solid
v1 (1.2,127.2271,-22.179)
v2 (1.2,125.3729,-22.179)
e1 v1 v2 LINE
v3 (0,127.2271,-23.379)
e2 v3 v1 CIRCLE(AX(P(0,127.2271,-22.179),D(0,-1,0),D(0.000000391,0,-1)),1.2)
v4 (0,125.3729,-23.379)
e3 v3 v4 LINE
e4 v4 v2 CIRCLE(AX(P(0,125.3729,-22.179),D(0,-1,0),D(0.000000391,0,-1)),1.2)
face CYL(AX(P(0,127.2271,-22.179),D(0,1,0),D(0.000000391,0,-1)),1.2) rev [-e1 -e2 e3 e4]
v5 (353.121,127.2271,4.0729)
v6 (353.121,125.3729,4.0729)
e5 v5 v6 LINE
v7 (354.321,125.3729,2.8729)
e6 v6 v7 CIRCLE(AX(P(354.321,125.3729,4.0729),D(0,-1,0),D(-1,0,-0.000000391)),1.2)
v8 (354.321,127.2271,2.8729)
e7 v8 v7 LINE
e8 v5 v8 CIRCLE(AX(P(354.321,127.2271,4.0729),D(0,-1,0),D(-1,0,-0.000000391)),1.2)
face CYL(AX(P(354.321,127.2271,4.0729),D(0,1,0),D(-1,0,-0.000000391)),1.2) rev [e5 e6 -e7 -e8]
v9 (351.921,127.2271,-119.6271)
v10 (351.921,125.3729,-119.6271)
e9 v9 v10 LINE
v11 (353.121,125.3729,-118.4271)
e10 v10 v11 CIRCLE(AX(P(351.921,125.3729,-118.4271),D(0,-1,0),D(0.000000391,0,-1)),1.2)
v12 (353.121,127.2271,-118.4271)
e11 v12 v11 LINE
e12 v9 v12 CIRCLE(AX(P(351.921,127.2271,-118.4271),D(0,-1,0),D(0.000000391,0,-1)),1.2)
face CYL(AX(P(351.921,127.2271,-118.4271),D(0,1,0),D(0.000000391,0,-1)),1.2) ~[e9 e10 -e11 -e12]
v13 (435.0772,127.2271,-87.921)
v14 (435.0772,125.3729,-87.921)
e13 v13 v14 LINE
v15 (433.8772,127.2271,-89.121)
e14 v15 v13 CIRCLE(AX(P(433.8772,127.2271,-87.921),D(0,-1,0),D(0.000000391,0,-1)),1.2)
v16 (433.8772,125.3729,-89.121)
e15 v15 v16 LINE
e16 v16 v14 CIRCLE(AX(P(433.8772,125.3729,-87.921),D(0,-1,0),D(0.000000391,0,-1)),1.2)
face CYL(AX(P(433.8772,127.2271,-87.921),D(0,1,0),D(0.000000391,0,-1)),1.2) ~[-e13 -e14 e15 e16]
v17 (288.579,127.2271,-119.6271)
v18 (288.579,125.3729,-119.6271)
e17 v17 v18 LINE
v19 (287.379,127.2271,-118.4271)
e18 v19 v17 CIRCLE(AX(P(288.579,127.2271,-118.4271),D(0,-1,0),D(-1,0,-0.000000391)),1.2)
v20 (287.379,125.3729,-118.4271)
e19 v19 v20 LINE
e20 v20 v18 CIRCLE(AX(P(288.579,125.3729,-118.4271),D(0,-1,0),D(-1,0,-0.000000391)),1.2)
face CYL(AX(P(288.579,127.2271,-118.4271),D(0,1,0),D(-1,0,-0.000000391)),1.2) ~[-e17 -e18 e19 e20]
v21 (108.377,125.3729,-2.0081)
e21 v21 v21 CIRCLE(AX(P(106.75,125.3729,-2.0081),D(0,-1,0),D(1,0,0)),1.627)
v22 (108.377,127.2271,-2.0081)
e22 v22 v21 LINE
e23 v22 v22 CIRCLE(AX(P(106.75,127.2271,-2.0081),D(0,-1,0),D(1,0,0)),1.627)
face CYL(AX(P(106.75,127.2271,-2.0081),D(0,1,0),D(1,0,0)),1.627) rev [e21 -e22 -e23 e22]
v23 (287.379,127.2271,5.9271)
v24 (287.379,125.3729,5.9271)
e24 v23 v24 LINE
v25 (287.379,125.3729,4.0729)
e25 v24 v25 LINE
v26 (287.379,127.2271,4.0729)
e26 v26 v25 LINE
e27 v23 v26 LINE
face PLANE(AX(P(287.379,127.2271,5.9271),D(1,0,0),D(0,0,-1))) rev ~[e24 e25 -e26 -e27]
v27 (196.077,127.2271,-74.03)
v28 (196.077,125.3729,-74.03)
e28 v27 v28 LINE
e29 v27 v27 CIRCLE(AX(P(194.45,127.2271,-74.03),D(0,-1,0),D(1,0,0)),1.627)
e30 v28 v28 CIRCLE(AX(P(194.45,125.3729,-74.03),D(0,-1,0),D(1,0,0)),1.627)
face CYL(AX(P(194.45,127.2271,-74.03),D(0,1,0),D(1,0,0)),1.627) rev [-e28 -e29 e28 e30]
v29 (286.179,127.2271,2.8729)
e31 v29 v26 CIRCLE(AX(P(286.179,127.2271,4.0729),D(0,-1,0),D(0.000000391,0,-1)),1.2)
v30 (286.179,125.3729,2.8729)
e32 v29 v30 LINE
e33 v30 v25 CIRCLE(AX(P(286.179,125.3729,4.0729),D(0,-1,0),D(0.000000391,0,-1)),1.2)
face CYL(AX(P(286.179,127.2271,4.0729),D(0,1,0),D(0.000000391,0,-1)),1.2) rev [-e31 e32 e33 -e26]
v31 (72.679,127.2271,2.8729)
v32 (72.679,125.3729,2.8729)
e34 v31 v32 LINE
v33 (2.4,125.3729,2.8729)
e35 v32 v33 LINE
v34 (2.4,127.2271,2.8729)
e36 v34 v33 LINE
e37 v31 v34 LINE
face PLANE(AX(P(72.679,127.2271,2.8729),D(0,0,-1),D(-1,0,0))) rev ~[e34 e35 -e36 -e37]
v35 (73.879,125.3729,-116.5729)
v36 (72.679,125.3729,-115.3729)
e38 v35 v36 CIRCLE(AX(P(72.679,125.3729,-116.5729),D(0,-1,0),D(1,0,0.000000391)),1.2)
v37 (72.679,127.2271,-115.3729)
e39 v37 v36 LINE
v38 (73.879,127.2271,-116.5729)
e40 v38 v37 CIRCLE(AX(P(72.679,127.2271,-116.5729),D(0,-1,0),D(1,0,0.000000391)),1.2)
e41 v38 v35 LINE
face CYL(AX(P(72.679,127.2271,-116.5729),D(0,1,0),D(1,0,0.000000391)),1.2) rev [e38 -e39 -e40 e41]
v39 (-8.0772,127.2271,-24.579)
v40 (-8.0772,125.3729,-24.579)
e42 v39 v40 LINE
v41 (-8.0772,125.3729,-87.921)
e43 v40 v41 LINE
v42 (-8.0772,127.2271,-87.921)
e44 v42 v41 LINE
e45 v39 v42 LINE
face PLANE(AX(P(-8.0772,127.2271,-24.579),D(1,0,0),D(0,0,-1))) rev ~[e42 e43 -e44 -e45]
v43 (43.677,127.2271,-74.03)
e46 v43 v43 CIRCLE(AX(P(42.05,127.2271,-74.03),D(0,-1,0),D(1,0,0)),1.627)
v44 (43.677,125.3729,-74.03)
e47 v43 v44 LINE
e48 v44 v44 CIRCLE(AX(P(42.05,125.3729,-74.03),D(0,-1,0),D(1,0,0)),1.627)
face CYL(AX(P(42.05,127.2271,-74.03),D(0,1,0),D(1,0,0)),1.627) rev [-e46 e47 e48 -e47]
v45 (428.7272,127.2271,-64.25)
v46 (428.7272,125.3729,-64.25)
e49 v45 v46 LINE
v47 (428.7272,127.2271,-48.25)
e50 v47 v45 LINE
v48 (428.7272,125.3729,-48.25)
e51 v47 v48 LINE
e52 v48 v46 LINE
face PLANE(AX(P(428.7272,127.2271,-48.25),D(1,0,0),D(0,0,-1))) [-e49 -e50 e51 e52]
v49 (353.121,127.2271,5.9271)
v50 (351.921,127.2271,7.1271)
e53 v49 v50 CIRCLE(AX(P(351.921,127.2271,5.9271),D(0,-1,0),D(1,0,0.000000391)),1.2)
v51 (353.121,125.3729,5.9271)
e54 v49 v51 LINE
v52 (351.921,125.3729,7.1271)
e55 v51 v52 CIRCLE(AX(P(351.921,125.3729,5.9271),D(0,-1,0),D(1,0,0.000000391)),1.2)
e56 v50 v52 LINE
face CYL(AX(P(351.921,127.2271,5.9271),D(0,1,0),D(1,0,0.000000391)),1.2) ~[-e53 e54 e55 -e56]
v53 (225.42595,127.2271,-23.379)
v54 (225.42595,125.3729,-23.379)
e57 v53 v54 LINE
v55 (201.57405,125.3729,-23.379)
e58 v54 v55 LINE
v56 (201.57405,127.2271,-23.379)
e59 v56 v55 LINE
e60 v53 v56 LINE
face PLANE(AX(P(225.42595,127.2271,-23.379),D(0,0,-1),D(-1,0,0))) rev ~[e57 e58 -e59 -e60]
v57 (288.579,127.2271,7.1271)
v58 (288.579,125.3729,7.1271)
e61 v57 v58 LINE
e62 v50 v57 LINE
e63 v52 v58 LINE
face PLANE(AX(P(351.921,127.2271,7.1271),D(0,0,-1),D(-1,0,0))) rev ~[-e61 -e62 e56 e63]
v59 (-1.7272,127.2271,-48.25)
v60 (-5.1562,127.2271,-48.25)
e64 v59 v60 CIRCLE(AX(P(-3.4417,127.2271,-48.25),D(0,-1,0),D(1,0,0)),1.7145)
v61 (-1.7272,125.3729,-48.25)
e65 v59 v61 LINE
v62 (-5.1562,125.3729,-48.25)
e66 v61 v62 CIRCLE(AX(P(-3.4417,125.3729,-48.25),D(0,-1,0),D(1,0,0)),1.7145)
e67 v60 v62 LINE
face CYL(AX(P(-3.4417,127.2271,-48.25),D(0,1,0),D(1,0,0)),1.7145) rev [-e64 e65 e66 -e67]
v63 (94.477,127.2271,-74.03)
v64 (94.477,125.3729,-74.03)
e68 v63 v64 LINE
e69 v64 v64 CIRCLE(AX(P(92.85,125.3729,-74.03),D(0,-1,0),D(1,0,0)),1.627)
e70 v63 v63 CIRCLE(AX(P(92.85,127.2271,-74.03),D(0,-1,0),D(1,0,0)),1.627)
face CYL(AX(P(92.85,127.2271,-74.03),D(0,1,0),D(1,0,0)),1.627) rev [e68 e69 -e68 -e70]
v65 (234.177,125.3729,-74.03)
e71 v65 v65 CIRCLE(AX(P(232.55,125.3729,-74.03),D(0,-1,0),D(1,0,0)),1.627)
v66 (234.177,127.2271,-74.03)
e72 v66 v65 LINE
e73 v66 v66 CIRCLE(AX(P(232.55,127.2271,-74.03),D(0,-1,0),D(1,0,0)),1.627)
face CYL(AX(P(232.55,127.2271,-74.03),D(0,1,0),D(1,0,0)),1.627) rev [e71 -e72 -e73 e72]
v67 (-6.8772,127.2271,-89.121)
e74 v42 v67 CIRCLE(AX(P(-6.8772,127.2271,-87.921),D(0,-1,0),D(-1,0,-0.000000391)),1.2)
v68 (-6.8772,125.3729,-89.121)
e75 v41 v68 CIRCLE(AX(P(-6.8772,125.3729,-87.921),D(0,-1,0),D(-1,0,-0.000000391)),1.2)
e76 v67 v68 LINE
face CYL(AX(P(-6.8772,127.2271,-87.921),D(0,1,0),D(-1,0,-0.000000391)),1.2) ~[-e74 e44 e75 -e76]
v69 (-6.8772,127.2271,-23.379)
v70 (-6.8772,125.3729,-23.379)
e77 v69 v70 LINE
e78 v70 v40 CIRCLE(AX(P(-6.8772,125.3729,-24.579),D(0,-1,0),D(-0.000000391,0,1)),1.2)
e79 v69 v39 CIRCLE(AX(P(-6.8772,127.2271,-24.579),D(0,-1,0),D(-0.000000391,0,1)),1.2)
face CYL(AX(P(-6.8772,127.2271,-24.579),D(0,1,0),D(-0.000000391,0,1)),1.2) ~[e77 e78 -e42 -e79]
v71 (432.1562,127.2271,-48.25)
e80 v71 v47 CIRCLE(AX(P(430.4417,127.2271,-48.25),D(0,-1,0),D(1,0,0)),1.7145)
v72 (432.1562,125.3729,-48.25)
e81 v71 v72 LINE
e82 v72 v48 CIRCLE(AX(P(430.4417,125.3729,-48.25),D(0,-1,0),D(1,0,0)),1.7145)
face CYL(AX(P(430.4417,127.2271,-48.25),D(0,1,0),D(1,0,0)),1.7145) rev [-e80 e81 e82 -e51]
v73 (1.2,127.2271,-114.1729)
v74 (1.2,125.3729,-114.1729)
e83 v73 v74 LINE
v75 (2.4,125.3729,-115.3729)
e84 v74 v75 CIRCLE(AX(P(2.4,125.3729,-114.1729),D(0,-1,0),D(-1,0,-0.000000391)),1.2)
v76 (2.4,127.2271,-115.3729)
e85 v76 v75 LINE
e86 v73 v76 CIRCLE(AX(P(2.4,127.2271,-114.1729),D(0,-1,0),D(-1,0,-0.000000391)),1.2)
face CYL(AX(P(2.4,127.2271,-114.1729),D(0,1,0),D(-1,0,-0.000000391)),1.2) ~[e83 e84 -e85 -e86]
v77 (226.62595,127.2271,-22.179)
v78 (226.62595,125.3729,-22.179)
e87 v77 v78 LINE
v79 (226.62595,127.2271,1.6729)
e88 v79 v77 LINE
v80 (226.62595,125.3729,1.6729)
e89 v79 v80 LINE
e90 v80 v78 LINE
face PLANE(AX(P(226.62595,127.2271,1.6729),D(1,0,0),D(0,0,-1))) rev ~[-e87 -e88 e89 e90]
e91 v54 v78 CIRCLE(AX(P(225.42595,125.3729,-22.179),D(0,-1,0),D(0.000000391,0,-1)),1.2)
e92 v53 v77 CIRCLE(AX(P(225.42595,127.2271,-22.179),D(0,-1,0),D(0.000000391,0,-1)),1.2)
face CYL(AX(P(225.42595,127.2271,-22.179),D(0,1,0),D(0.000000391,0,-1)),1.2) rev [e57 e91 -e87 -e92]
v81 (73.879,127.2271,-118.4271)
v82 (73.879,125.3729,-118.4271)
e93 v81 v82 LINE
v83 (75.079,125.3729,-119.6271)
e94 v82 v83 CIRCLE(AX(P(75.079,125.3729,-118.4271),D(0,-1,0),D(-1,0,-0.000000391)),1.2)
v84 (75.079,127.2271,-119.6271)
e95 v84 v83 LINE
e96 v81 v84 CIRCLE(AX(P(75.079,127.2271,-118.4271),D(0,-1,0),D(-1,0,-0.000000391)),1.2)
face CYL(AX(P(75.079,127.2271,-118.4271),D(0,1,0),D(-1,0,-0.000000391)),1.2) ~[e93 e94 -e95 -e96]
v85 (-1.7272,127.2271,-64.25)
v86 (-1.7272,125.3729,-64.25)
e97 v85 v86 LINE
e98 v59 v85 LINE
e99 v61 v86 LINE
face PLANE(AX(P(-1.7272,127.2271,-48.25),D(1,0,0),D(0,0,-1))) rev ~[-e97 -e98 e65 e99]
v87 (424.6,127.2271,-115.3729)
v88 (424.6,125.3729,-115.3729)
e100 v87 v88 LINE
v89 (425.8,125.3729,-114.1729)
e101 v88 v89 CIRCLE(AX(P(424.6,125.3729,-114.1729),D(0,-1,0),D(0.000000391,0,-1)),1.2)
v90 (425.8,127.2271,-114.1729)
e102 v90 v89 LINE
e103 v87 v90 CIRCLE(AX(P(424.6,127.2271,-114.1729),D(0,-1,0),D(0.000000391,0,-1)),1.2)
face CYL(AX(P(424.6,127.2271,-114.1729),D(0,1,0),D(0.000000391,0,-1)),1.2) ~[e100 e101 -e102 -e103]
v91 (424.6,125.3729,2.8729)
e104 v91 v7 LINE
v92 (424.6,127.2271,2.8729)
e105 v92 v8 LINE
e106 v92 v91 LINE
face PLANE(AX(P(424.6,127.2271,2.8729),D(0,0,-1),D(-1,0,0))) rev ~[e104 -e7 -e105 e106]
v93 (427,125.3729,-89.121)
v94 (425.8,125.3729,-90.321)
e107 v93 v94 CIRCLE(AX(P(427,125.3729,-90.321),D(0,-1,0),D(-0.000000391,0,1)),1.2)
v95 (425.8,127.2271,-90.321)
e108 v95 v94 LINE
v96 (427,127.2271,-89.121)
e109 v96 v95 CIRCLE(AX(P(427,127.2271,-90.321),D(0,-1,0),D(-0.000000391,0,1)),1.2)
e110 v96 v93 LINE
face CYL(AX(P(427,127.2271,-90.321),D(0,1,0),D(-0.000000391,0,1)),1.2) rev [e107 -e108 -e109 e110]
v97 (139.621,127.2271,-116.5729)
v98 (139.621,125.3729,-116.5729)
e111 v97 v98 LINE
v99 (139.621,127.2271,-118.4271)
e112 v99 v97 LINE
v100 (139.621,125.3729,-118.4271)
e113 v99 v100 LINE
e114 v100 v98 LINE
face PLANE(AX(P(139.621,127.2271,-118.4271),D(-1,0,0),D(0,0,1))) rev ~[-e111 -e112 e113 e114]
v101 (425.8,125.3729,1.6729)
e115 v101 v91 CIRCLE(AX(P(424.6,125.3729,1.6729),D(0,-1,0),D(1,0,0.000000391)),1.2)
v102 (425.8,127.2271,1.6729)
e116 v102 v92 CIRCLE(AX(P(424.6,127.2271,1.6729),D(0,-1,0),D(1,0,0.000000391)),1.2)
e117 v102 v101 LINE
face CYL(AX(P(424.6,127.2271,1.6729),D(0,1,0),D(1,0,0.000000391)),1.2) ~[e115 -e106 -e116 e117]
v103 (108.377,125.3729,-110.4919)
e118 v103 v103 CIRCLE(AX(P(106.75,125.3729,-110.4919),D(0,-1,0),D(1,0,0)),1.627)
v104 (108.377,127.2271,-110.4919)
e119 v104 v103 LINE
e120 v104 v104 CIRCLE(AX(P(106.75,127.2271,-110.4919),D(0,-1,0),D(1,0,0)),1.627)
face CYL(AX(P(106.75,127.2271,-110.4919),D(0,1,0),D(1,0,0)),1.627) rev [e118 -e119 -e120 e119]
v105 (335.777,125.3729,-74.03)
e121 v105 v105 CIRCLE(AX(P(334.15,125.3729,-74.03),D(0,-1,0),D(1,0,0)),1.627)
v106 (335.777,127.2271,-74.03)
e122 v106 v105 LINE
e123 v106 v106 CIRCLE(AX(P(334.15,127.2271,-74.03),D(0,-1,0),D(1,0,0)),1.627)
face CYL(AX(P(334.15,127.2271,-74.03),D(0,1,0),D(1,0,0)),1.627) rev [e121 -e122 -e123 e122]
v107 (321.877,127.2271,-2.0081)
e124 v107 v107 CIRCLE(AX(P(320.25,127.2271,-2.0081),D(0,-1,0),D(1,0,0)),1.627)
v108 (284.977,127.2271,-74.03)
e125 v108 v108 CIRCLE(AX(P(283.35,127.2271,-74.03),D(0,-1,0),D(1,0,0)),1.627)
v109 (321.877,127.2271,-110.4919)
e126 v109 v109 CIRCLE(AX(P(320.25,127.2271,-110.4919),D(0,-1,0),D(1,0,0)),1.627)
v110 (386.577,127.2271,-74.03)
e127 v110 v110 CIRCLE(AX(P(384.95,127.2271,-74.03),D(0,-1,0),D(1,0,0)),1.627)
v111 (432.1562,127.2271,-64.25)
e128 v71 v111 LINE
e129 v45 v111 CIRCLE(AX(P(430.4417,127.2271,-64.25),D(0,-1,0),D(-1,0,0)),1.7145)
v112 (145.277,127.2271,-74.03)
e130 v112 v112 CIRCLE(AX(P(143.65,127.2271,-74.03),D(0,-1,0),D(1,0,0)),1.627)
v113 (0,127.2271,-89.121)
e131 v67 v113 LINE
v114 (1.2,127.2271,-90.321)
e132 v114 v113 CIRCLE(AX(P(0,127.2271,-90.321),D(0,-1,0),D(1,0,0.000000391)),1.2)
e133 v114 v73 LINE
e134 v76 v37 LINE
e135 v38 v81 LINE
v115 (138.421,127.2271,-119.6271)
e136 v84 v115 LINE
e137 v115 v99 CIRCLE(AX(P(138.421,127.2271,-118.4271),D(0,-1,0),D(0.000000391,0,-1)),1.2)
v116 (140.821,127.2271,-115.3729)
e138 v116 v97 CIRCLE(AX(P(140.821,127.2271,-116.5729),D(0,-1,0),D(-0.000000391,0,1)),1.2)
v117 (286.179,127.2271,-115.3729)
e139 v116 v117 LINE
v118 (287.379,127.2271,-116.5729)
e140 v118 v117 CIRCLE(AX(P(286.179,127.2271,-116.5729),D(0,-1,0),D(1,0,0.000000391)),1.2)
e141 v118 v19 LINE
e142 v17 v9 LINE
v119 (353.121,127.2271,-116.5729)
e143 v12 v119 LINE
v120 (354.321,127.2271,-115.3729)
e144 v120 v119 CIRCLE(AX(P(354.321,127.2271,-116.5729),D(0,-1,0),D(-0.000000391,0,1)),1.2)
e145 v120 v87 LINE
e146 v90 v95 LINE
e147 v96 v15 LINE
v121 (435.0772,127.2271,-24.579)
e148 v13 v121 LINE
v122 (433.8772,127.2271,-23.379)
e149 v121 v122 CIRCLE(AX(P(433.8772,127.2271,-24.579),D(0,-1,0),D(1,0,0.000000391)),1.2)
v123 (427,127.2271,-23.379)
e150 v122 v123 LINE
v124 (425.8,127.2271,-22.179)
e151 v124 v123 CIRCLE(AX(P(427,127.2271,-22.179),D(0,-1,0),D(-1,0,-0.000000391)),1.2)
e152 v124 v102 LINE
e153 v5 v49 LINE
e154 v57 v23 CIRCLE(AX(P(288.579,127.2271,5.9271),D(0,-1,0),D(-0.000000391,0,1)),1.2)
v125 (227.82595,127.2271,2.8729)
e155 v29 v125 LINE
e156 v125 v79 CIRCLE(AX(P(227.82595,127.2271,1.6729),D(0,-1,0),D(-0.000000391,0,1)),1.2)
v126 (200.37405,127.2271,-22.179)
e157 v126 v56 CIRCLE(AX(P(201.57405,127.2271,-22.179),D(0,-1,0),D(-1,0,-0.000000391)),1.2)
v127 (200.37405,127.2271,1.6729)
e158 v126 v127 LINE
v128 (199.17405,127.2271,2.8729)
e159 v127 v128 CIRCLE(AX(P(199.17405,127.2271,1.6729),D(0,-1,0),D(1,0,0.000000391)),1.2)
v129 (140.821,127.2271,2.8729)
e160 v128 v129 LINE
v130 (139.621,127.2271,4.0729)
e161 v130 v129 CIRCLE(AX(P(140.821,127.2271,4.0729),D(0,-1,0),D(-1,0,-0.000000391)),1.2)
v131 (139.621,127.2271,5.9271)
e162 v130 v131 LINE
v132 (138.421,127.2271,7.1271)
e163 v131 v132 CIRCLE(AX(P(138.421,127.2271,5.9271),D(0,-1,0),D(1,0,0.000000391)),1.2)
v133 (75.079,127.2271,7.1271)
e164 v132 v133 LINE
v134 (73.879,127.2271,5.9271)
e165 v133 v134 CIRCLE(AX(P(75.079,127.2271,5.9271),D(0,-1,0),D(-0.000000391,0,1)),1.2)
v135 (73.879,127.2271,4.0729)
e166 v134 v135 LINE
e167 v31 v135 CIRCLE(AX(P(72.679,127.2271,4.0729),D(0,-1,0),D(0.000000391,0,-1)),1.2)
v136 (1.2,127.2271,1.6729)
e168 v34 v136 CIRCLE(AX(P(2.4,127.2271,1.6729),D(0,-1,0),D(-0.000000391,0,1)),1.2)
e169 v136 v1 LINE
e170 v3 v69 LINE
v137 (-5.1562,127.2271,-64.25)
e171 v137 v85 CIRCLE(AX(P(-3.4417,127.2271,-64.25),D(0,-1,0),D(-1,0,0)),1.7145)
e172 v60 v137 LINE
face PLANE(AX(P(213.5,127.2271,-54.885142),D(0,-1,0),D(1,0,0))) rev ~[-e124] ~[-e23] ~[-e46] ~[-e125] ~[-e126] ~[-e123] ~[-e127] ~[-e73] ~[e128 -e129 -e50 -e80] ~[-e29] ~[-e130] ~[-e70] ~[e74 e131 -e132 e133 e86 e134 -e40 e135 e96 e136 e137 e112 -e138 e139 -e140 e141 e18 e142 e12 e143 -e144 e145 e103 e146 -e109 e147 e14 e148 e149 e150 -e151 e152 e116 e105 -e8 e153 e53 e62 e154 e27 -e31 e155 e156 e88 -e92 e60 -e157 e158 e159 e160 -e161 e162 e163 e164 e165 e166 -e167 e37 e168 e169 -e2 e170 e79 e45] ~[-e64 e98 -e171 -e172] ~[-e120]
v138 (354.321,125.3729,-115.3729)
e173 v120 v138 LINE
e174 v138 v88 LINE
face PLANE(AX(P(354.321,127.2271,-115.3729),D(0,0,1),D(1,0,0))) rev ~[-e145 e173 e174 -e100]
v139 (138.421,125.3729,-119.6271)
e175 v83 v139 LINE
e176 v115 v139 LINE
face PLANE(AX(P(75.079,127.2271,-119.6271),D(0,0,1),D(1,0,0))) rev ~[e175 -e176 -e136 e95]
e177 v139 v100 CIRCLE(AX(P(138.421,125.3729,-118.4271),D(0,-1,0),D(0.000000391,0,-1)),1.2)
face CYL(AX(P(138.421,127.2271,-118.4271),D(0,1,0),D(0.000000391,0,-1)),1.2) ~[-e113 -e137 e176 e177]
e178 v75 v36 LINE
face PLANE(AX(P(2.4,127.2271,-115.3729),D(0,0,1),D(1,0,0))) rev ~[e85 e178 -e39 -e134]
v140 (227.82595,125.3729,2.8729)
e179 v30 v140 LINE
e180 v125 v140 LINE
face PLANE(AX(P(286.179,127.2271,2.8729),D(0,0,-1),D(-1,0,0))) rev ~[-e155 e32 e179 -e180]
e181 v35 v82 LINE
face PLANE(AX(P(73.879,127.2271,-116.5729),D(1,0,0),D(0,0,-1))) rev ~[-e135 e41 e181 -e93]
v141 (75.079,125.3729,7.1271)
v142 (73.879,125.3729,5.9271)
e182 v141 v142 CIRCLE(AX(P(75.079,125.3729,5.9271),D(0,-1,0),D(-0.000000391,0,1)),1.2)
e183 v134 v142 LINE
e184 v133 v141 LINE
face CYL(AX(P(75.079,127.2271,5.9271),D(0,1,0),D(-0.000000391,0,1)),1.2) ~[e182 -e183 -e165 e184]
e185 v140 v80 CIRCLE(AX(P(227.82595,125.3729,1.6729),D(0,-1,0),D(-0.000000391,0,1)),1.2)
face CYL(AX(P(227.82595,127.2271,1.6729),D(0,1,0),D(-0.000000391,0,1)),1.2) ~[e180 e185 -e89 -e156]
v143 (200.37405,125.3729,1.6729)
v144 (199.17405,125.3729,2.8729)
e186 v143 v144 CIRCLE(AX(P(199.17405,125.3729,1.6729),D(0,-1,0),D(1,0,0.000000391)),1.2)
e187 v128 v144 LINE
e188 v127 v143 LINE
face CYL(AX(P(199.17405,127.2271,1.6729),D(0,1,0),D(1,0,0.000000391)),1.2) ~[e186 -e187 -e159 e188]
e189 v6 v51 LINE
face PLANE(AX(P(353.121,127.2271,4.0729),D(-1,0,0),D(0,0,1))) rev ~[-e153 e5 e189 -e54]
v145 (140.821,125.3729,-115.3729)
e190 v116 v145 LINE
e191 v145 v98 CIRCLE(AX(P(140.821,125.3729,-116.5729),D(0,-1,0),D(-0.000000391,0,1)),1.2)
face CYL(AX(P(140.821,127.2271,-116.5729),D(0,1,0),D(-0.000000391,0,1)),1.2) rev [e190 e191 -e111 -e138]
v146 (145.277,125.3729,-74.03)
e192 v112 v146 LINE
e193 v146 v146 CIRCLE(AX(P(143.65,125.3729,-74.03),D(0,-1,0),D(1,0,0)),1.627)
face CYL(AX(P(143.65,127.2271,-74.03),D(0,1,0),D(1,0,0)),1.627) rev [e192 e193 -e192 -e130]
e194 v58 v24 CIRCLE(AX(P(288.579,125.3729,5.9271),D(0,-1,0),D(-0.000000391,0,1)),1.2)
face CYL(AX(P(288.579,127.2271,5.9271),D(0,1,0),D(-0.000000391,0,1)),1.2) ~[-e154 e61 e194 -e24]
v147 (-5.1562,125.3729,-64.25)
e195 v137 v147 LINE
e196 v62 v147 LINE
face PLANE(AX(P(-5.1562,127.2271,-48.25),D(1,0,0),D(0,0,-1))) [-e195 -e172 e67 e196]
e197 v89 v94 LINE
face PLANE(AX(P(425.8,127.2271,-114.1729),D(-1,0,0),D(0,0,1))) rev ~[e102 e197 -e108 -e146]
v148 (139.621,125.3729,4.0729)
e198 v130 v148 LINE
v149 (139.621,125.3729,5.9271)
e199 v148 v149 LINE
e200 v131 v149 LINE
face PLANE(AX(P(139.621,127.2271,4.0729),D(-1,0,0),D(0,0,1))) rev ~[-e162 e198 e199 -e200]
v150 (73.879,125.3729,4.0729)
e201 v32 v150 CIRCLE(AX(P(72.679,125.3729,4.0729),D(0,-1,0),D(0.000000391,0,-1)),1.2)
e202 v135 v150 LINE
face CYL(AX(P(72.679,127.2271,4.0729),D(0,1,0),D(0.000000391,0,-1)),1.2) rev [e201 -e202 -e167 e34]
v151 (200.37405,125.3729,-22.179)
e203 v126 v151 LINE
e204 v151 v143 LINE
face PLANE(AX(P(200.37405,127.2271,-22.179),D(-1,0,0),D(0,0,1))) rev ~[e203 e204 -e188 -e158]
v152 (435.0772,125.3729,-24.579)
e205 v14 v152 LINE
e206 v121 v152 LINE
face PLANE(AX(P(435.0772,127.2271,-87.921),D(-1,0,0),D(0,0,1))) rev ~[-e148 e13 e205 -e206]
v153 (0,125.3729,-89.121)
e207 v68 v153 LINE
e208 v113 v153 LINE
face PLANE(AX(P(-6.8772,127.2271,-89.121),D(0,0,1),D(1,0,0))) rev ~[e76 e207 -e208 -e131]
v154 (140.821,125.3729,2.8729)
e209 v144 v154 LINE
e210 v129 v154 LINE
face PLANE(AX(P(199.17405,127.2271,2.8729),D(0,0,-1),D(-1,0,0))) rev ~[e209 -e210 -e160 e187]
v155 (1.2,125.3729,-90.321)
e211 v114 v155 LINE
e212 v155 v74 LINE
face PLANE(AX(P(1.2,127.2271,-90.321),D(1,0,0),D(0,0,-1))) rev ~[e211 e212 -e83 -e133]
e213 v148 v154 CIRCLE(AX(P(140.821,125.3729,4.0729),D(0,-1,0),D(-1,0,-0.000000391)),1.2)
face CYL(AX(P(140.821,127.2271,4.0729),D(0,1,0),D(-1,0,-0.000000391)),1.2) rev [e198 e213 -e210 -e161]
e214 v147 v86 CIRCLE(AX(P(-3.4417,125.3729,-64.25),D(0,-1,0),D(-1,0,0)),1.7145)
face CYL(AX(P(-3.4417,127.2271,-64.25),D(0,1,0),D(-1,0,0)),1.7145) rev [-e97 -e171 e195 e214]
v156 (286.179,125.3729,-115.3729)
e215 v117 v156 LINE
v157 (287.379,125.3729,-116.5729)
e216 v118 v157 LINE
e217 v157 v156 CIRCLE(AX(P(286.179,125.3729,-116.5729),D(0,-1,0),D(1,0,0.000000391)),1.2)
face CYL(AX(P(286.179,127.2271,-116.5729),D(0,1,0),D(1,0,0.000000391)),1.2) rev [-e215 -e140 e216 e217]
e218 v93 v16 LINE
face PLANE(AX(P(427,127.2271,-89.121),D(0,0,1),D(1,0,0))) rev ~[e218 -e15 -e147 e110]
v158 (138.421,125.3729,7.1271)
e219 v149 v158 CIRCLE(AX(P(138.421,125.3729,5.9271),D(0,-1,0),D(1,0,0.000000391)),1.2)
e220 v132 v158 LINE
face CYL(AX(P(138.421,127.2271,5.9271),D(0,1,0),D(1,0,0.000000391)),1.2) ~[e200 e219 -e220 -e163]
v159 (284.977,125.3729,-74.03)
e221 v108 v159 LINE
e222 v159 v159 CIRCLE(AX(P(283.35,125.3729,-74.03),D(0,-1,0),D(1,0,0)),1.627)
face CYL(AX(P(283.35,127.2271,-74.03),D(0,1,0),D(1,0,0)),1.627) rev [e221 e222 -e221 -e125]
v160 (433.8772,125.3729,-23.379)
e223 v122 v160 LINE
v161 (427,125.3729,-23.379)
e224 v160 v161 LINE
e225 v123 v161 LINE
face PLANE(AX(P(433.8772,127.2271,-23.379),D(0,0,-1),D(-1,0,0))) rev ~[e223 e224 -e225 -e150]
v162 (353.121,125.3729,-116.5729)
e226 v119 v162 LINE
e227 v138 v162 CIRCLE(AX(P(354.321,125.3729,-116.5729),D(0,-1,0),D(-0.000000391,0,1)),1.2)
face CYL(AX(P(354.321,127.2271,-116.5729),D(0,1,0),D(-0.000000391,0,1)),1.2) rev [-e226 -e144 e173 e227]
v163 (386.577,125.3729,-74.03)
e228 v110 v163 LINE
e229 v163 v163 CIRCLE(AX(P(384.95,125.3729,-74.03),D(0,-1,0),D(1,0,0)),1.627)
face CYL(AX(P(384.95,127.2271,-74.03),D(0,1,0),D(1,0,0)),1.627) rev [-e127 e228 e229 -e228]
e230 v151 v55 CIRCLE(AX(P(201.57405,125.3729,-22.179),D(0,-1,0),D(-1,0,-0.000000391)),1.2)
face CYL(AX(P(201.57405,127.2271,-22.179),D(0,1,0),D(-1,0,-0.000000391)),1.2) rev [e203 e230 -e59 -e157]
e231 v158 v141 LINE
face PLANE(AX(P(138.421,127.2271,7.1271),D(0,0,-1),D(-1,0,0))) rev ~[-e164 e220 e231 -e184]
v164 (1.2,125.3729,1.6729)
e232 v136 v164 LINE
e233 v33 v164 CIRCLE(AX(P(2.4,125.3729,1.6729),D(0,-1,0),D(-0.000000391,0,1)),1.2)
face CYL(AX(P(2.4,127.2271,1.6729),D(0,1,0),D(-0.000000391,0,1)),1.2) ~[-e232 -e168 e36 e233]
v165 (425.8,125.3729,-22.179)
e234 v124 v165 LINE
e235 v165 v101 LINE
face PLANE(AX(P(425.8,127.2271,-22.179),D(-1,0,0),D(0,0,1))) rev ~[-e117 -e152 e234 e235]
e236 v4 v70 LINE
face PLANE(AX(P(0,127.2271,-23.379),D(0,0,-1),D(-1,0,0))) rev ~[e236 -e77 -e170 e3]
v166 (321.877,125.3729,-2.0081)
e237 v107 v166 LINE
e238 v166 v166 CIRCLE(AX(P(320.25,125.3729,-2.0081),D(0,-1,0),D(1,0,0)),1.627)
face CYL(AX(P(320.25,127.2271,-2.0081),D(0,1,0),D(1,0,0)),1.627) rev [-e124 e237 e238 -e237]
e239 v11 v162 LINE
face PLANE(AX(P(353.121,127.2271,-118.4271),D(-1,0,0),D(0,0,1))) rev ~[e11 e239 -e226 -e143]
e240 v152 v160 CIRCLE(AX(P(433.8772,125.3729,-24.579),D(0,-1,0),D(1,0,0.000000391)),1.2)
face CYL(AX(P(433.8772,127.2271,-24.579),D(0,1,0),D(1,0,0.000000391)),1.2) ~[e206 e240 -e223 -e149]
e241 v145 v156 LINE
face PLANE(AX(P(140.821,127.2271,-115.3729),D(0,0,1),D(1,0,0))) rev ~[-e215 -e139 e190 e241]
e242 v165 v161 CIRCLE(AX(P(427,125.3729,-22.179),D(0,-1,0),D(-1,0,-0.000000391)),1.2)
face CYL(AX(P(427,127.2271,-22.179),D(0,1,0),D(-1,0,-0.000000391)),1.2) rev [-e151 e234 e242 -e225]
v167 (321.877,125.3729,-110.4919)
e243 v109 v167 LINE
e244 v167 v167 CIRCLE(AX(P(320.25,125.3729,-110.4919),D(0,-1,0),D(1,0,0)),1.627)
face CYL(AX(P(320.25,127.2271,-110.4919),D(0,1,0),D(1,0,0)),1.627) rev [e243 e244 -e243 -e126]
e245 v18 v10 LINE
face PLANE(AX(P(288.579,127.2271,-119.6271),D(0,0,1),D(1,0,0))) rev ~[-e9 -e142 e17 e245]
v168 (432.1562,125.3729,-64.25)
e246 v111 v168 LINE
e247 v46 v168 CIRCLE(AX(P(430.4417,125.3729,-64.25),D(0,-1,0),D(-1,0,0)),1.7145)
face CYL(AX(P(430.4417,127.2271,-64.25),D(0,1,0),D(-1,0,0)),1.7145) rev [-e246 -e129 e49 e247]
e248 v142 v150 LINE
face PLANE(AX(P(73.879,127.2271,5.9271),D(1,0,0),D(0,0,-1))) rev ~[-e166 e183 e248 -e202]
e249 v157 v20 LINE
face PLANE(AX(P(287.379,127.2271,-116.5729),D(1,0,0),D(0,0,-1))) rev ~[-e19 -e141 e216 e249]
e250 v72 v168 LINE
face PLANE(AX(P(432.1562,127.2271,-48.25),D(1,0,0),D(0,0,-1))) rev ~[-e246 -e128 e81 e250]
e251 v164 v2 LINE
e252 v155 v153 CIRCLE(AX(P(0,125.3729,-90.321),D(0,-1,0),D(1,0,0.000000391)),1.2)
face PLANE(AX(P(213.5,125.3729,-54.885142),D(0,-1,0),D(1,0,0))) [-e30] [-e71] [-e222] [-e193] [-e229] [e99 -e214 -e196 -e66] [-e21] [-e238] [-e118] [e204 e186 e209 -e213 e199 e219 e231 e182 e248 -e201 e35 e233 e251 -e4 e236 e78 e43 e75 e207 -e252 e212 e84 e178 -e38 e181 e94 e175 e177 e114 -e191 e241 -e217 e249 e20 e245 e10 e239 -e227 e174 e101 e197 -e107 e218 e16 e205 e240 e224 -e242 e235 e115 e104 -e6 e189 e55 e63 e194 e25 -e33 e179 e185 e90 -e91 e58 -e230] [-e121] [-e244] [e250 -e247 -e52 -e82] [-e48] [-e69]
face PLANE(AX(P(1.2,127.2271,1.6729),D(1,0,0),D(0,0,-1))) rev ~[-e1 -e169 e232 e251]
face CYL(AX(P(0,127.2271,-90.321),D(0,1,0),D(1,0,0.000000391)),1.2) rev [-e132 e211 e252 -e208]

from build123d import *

# Parameters (mm, degrees)
SKETCH_R  = 1.627
PAD_DEPTH = 1.8542


with BuildPart() as part:
    # Sketch (on Face16 of Binder001) → Pad (new body)
    with BuildSketch(Plane.XZ.offset(-127.2271)):
        with BuildLine():
            Line((0, -23.379), (-6.8772, -23.379))
            ThreePointArc((-6.8772, -23.379), (-7.725728, -23.730472), (-8.0772, -24.579))
            Line((-8.0772, -24.579), (-8.0772, -87.921))
            ThreePointArc((-8.0772, -87.921), (-7.725728, -88.769528), (-6.8772, -89.121))
            Line((-6.8772, -89.121), (0, -89.121))
            ThreePointArc((1.2, -90.321), (0.848528, -89.472472), (0, -89.121))
            Line((1.2, -90.321), (1.2, -114.1729))
            ThreePointArc((1.2, -114.1729), (1.551472, -115.021428), (2.4, -115.3729))
            Line((2.4, -115.3729), (72.679, -115.3729))
            ThreePointArc((73.879, -116.5729), (73.527528, -115.724372), (72.679, -115.3729))
            Line((73.879, -116.5729), (73.879, -118.4271))
            ThreePointArc((73.879, -118.4271), (74.230472, -119.275628), (75.079, -119.6271))
            Line((75.079, -119.6271), (138.421, -119.6271))
            ThreePointArc((138.421, -119.6271), (139.269528, -119.275628), (139.621, -118.4271))
            Line((139.621, -118.4271), (139.621, -116.5729))
            ThreePointArc((140.821, -115.3729), (139.972472, -115.724372), (139.621, -116.5729))
            Line((140.821, -115.3729), (286.179, -115.3729))
            ThreePointArc((287.379, -116.5729), (287.027528, -115.724372), (286.179, -115.3729))
            Line((287.379, -116.5729), (287.379, -118.4271))
            ThreePointArc((287.379, -118.4271), (287.730472, -119.275628), (288.579, -119.6271))
            Line((288.579, -119.6271), (351.921, -119.6271))
            ThreePointArc((351.921, -119.6271), (352.769528, -119.275628), (353.121, -118.4271))
            Line((353.121, -118.4271), (353.121, -116.5729))
            ThreePointArc((354.321, -115.3729), (353.472472, -115.724372), (353.121, -116.5729))
            Line((354.321, -115.3729), (424.6, -115.3729))
            ThreePointArc((424.6, -115.3729), (425.448528, -115.021428), (425.8, -114.1729))
            Line((425.8, -114.1729), (425.8, -90.321))
            ThreePointArc((427, -89.121), (426.151472, -89.472472), (425.8, -90.321))
            Line((427, -89.121), (433.8772, -89.121))
            ThreePointArc((433.8772, -89.121), (434.725728, -88.769528), (435.0772, -87.921))
            Line((435.0772, -87.921), (435.0772, -24.579))
            ThreePointArc((435.0772, -24.579), (434.725728, -23.730472), (433.8772, -23.379))
            Line((433.8772, -23.379), (427, -23.379))
            ThreePointArc((425.8, -22.179), (426.151472, -23.027528), (427, -23.379))
            Line((425.8, -22.179), (425.8, 1.6729))
            ThreePointArc((425.8, 1.6729), (425.448528, 2.521428), (424.6, 2.8729))
            Line((424.6, 2.8729), (354.321, 2.8729))
            ThreePointArc((353.121, 4.0729), (353.472472, 3.224372), (354.321, 2.8729))
            Line((353.121, 4.0729), (353.121, 5.9271))
            ThreePointArc((353.121, 5.9271), (352.769528, 6.775628), (351.921, 7.1271))
            Line((351.921, 7.1271), (288.579, 7.1271))
            ThreePointArc((288.579, 7.1271), (287.730472, 6.775628), (287.379, 5.9271))
            Line((287.379, 5.9271), (287.379, 4.0729))
            ThreePointArc((286.179, 2.8729), (287.027528, 3.224372), (287.379, 4.0729))
            Line((286.179, 2.8729), (227.82595, 2.8729))
            ThreePointArc((227.82595, 2.8729), (226.977422, 2.521428), (226.62595, 1.6729))
            Line((226.62595, 1.6729), (226.62595, -22.179))
            ThreePointArc((225.42595, -23.379), (226.274478, -23.027528), (226.62595, -22.179))
            Line((225.42595, -23.379), (201.57405, -23.379))
            ThreePointArc((200.37405, -22.179), (200.725522, -23.027528), (201.57405, -23.379))
            Line((200.37405, -22.179), (200.37405, 1.6729))
            ThreePointArc((200.37405, 1.6729), (200.022578, 2.521428), (199.17405, 2.8729))
            Line((199.17405, 2.8729), (140.821, 2.8729))
            ThreePointArc((139.621, 4.0729), (139.972472, 3.224372), (140.821, 2.8729))
            Line((139.621, 4.0729), (139.621, 5.9271))
            ThreePointArc((139.621, 5.9271), (139.269528, 6.775628), (138.421, 7.1271))
            Line((138.421, 7.1271), (75.079, 7.1271))
            ThreePointArc((75.079, 7.1271), (74.230472, 6.775628), (73.879, 5.9271))
            Line((73.879, 5.9271), (73.879, 4.0729))
            ThreePointArc((72.679, 2.8729), (73.527528, 3.224372), (73.879, 4.0729))
            Line((72.679, 2.8729), (2.4, 2.8729))
            ThreePointArc((2.4, 2.8729), (1.551472, 2.521428), (1.2, 1.6729))
            Line((1.2, 1.6729), (1.2, -22.179))
            ThreePointArc((0, -23.379), (0.848528, -23.027528), (1.2, -22.179))
        make_face()
        with Locations((194.45, -74.03)):
            Circle(SKETCH_R, mode=Mode.SUBTRACT)
        with Locations((232.55, -74.03)):
            Circle(SKETCH_R, mode=Mode.SUBTRACT)
        with Locations((283.35, -74.03)):
            Circle(SKETCH_R, mode=Mode.SUBTRACT)
        with Locations((334.15, -74.03)):
            Circle(SKETCH_R, mode=Mode.SUBTRACT)
        with Locations((384.95, -74.03)):
            Circle(SKETCH_R, mode=Mode.SUBTRACT)
        with Locations((143.65, -74.03)):
            Circle(SKETCH_R, mode=Mode.SUBTRACT)
        with Locations((92.85, -74.03)):
            Circle(SKETCH_R, mode=Mode.SUBTRACT)
        with Locations((42.05, -74.03)):
            Circle(SKETCH_R, mode=Mode.SUBTRACT)
        with Locations((106.75, -2.0081)):
            Circle(SKETCH_R, mode=Mode.SUBTRACT)
        with Locations((106.75, -110.4919)):
            Circle(SKETCH_R, mode=Mode.SUBTRACT)
        with Locations((320.25, -110.4919)):
            Circle(SKETCH_R, mode=Mode.SUBTRACT)
        with Locations((320.25, -2.0081)):
            Circle(SKETCH_R, mode=Mode.SUBTRACT)
        with BuildLine():
            ThreePointArc((-1.7272, -48.25), (-3.4417, -46.5355), (-5.1562, -48.25))
            Line((-5.1562, -48.25), (-5.1562, -64.25))
            ThreePointArc((-5.1562, -64.25), (-3.4417, -65.9645), (-1.7272, -64.25))
            Line((-1.7272, -48.25), (-1.7272, -64.25))
        make_face(mode=Mode.SUBTRACT)
        with BuildLine():
            ThreePointArc((432.1562, -48.25), (430.4417, -46.5355), (428.7272, -48.25))
            Line((428.7272, -48.25), (428.7272, -64.25))
            ThreePointArc((428.7272, -64.25), (430.4417, -65.9645), (432.1562, -64.25))
            Line((432.1562, -48.25), (432.1562, -64.25))
        make_face(mode=Mode.SUBTRACT)
    extrude(amount=PAD_DEPTH)


solid = part.part
